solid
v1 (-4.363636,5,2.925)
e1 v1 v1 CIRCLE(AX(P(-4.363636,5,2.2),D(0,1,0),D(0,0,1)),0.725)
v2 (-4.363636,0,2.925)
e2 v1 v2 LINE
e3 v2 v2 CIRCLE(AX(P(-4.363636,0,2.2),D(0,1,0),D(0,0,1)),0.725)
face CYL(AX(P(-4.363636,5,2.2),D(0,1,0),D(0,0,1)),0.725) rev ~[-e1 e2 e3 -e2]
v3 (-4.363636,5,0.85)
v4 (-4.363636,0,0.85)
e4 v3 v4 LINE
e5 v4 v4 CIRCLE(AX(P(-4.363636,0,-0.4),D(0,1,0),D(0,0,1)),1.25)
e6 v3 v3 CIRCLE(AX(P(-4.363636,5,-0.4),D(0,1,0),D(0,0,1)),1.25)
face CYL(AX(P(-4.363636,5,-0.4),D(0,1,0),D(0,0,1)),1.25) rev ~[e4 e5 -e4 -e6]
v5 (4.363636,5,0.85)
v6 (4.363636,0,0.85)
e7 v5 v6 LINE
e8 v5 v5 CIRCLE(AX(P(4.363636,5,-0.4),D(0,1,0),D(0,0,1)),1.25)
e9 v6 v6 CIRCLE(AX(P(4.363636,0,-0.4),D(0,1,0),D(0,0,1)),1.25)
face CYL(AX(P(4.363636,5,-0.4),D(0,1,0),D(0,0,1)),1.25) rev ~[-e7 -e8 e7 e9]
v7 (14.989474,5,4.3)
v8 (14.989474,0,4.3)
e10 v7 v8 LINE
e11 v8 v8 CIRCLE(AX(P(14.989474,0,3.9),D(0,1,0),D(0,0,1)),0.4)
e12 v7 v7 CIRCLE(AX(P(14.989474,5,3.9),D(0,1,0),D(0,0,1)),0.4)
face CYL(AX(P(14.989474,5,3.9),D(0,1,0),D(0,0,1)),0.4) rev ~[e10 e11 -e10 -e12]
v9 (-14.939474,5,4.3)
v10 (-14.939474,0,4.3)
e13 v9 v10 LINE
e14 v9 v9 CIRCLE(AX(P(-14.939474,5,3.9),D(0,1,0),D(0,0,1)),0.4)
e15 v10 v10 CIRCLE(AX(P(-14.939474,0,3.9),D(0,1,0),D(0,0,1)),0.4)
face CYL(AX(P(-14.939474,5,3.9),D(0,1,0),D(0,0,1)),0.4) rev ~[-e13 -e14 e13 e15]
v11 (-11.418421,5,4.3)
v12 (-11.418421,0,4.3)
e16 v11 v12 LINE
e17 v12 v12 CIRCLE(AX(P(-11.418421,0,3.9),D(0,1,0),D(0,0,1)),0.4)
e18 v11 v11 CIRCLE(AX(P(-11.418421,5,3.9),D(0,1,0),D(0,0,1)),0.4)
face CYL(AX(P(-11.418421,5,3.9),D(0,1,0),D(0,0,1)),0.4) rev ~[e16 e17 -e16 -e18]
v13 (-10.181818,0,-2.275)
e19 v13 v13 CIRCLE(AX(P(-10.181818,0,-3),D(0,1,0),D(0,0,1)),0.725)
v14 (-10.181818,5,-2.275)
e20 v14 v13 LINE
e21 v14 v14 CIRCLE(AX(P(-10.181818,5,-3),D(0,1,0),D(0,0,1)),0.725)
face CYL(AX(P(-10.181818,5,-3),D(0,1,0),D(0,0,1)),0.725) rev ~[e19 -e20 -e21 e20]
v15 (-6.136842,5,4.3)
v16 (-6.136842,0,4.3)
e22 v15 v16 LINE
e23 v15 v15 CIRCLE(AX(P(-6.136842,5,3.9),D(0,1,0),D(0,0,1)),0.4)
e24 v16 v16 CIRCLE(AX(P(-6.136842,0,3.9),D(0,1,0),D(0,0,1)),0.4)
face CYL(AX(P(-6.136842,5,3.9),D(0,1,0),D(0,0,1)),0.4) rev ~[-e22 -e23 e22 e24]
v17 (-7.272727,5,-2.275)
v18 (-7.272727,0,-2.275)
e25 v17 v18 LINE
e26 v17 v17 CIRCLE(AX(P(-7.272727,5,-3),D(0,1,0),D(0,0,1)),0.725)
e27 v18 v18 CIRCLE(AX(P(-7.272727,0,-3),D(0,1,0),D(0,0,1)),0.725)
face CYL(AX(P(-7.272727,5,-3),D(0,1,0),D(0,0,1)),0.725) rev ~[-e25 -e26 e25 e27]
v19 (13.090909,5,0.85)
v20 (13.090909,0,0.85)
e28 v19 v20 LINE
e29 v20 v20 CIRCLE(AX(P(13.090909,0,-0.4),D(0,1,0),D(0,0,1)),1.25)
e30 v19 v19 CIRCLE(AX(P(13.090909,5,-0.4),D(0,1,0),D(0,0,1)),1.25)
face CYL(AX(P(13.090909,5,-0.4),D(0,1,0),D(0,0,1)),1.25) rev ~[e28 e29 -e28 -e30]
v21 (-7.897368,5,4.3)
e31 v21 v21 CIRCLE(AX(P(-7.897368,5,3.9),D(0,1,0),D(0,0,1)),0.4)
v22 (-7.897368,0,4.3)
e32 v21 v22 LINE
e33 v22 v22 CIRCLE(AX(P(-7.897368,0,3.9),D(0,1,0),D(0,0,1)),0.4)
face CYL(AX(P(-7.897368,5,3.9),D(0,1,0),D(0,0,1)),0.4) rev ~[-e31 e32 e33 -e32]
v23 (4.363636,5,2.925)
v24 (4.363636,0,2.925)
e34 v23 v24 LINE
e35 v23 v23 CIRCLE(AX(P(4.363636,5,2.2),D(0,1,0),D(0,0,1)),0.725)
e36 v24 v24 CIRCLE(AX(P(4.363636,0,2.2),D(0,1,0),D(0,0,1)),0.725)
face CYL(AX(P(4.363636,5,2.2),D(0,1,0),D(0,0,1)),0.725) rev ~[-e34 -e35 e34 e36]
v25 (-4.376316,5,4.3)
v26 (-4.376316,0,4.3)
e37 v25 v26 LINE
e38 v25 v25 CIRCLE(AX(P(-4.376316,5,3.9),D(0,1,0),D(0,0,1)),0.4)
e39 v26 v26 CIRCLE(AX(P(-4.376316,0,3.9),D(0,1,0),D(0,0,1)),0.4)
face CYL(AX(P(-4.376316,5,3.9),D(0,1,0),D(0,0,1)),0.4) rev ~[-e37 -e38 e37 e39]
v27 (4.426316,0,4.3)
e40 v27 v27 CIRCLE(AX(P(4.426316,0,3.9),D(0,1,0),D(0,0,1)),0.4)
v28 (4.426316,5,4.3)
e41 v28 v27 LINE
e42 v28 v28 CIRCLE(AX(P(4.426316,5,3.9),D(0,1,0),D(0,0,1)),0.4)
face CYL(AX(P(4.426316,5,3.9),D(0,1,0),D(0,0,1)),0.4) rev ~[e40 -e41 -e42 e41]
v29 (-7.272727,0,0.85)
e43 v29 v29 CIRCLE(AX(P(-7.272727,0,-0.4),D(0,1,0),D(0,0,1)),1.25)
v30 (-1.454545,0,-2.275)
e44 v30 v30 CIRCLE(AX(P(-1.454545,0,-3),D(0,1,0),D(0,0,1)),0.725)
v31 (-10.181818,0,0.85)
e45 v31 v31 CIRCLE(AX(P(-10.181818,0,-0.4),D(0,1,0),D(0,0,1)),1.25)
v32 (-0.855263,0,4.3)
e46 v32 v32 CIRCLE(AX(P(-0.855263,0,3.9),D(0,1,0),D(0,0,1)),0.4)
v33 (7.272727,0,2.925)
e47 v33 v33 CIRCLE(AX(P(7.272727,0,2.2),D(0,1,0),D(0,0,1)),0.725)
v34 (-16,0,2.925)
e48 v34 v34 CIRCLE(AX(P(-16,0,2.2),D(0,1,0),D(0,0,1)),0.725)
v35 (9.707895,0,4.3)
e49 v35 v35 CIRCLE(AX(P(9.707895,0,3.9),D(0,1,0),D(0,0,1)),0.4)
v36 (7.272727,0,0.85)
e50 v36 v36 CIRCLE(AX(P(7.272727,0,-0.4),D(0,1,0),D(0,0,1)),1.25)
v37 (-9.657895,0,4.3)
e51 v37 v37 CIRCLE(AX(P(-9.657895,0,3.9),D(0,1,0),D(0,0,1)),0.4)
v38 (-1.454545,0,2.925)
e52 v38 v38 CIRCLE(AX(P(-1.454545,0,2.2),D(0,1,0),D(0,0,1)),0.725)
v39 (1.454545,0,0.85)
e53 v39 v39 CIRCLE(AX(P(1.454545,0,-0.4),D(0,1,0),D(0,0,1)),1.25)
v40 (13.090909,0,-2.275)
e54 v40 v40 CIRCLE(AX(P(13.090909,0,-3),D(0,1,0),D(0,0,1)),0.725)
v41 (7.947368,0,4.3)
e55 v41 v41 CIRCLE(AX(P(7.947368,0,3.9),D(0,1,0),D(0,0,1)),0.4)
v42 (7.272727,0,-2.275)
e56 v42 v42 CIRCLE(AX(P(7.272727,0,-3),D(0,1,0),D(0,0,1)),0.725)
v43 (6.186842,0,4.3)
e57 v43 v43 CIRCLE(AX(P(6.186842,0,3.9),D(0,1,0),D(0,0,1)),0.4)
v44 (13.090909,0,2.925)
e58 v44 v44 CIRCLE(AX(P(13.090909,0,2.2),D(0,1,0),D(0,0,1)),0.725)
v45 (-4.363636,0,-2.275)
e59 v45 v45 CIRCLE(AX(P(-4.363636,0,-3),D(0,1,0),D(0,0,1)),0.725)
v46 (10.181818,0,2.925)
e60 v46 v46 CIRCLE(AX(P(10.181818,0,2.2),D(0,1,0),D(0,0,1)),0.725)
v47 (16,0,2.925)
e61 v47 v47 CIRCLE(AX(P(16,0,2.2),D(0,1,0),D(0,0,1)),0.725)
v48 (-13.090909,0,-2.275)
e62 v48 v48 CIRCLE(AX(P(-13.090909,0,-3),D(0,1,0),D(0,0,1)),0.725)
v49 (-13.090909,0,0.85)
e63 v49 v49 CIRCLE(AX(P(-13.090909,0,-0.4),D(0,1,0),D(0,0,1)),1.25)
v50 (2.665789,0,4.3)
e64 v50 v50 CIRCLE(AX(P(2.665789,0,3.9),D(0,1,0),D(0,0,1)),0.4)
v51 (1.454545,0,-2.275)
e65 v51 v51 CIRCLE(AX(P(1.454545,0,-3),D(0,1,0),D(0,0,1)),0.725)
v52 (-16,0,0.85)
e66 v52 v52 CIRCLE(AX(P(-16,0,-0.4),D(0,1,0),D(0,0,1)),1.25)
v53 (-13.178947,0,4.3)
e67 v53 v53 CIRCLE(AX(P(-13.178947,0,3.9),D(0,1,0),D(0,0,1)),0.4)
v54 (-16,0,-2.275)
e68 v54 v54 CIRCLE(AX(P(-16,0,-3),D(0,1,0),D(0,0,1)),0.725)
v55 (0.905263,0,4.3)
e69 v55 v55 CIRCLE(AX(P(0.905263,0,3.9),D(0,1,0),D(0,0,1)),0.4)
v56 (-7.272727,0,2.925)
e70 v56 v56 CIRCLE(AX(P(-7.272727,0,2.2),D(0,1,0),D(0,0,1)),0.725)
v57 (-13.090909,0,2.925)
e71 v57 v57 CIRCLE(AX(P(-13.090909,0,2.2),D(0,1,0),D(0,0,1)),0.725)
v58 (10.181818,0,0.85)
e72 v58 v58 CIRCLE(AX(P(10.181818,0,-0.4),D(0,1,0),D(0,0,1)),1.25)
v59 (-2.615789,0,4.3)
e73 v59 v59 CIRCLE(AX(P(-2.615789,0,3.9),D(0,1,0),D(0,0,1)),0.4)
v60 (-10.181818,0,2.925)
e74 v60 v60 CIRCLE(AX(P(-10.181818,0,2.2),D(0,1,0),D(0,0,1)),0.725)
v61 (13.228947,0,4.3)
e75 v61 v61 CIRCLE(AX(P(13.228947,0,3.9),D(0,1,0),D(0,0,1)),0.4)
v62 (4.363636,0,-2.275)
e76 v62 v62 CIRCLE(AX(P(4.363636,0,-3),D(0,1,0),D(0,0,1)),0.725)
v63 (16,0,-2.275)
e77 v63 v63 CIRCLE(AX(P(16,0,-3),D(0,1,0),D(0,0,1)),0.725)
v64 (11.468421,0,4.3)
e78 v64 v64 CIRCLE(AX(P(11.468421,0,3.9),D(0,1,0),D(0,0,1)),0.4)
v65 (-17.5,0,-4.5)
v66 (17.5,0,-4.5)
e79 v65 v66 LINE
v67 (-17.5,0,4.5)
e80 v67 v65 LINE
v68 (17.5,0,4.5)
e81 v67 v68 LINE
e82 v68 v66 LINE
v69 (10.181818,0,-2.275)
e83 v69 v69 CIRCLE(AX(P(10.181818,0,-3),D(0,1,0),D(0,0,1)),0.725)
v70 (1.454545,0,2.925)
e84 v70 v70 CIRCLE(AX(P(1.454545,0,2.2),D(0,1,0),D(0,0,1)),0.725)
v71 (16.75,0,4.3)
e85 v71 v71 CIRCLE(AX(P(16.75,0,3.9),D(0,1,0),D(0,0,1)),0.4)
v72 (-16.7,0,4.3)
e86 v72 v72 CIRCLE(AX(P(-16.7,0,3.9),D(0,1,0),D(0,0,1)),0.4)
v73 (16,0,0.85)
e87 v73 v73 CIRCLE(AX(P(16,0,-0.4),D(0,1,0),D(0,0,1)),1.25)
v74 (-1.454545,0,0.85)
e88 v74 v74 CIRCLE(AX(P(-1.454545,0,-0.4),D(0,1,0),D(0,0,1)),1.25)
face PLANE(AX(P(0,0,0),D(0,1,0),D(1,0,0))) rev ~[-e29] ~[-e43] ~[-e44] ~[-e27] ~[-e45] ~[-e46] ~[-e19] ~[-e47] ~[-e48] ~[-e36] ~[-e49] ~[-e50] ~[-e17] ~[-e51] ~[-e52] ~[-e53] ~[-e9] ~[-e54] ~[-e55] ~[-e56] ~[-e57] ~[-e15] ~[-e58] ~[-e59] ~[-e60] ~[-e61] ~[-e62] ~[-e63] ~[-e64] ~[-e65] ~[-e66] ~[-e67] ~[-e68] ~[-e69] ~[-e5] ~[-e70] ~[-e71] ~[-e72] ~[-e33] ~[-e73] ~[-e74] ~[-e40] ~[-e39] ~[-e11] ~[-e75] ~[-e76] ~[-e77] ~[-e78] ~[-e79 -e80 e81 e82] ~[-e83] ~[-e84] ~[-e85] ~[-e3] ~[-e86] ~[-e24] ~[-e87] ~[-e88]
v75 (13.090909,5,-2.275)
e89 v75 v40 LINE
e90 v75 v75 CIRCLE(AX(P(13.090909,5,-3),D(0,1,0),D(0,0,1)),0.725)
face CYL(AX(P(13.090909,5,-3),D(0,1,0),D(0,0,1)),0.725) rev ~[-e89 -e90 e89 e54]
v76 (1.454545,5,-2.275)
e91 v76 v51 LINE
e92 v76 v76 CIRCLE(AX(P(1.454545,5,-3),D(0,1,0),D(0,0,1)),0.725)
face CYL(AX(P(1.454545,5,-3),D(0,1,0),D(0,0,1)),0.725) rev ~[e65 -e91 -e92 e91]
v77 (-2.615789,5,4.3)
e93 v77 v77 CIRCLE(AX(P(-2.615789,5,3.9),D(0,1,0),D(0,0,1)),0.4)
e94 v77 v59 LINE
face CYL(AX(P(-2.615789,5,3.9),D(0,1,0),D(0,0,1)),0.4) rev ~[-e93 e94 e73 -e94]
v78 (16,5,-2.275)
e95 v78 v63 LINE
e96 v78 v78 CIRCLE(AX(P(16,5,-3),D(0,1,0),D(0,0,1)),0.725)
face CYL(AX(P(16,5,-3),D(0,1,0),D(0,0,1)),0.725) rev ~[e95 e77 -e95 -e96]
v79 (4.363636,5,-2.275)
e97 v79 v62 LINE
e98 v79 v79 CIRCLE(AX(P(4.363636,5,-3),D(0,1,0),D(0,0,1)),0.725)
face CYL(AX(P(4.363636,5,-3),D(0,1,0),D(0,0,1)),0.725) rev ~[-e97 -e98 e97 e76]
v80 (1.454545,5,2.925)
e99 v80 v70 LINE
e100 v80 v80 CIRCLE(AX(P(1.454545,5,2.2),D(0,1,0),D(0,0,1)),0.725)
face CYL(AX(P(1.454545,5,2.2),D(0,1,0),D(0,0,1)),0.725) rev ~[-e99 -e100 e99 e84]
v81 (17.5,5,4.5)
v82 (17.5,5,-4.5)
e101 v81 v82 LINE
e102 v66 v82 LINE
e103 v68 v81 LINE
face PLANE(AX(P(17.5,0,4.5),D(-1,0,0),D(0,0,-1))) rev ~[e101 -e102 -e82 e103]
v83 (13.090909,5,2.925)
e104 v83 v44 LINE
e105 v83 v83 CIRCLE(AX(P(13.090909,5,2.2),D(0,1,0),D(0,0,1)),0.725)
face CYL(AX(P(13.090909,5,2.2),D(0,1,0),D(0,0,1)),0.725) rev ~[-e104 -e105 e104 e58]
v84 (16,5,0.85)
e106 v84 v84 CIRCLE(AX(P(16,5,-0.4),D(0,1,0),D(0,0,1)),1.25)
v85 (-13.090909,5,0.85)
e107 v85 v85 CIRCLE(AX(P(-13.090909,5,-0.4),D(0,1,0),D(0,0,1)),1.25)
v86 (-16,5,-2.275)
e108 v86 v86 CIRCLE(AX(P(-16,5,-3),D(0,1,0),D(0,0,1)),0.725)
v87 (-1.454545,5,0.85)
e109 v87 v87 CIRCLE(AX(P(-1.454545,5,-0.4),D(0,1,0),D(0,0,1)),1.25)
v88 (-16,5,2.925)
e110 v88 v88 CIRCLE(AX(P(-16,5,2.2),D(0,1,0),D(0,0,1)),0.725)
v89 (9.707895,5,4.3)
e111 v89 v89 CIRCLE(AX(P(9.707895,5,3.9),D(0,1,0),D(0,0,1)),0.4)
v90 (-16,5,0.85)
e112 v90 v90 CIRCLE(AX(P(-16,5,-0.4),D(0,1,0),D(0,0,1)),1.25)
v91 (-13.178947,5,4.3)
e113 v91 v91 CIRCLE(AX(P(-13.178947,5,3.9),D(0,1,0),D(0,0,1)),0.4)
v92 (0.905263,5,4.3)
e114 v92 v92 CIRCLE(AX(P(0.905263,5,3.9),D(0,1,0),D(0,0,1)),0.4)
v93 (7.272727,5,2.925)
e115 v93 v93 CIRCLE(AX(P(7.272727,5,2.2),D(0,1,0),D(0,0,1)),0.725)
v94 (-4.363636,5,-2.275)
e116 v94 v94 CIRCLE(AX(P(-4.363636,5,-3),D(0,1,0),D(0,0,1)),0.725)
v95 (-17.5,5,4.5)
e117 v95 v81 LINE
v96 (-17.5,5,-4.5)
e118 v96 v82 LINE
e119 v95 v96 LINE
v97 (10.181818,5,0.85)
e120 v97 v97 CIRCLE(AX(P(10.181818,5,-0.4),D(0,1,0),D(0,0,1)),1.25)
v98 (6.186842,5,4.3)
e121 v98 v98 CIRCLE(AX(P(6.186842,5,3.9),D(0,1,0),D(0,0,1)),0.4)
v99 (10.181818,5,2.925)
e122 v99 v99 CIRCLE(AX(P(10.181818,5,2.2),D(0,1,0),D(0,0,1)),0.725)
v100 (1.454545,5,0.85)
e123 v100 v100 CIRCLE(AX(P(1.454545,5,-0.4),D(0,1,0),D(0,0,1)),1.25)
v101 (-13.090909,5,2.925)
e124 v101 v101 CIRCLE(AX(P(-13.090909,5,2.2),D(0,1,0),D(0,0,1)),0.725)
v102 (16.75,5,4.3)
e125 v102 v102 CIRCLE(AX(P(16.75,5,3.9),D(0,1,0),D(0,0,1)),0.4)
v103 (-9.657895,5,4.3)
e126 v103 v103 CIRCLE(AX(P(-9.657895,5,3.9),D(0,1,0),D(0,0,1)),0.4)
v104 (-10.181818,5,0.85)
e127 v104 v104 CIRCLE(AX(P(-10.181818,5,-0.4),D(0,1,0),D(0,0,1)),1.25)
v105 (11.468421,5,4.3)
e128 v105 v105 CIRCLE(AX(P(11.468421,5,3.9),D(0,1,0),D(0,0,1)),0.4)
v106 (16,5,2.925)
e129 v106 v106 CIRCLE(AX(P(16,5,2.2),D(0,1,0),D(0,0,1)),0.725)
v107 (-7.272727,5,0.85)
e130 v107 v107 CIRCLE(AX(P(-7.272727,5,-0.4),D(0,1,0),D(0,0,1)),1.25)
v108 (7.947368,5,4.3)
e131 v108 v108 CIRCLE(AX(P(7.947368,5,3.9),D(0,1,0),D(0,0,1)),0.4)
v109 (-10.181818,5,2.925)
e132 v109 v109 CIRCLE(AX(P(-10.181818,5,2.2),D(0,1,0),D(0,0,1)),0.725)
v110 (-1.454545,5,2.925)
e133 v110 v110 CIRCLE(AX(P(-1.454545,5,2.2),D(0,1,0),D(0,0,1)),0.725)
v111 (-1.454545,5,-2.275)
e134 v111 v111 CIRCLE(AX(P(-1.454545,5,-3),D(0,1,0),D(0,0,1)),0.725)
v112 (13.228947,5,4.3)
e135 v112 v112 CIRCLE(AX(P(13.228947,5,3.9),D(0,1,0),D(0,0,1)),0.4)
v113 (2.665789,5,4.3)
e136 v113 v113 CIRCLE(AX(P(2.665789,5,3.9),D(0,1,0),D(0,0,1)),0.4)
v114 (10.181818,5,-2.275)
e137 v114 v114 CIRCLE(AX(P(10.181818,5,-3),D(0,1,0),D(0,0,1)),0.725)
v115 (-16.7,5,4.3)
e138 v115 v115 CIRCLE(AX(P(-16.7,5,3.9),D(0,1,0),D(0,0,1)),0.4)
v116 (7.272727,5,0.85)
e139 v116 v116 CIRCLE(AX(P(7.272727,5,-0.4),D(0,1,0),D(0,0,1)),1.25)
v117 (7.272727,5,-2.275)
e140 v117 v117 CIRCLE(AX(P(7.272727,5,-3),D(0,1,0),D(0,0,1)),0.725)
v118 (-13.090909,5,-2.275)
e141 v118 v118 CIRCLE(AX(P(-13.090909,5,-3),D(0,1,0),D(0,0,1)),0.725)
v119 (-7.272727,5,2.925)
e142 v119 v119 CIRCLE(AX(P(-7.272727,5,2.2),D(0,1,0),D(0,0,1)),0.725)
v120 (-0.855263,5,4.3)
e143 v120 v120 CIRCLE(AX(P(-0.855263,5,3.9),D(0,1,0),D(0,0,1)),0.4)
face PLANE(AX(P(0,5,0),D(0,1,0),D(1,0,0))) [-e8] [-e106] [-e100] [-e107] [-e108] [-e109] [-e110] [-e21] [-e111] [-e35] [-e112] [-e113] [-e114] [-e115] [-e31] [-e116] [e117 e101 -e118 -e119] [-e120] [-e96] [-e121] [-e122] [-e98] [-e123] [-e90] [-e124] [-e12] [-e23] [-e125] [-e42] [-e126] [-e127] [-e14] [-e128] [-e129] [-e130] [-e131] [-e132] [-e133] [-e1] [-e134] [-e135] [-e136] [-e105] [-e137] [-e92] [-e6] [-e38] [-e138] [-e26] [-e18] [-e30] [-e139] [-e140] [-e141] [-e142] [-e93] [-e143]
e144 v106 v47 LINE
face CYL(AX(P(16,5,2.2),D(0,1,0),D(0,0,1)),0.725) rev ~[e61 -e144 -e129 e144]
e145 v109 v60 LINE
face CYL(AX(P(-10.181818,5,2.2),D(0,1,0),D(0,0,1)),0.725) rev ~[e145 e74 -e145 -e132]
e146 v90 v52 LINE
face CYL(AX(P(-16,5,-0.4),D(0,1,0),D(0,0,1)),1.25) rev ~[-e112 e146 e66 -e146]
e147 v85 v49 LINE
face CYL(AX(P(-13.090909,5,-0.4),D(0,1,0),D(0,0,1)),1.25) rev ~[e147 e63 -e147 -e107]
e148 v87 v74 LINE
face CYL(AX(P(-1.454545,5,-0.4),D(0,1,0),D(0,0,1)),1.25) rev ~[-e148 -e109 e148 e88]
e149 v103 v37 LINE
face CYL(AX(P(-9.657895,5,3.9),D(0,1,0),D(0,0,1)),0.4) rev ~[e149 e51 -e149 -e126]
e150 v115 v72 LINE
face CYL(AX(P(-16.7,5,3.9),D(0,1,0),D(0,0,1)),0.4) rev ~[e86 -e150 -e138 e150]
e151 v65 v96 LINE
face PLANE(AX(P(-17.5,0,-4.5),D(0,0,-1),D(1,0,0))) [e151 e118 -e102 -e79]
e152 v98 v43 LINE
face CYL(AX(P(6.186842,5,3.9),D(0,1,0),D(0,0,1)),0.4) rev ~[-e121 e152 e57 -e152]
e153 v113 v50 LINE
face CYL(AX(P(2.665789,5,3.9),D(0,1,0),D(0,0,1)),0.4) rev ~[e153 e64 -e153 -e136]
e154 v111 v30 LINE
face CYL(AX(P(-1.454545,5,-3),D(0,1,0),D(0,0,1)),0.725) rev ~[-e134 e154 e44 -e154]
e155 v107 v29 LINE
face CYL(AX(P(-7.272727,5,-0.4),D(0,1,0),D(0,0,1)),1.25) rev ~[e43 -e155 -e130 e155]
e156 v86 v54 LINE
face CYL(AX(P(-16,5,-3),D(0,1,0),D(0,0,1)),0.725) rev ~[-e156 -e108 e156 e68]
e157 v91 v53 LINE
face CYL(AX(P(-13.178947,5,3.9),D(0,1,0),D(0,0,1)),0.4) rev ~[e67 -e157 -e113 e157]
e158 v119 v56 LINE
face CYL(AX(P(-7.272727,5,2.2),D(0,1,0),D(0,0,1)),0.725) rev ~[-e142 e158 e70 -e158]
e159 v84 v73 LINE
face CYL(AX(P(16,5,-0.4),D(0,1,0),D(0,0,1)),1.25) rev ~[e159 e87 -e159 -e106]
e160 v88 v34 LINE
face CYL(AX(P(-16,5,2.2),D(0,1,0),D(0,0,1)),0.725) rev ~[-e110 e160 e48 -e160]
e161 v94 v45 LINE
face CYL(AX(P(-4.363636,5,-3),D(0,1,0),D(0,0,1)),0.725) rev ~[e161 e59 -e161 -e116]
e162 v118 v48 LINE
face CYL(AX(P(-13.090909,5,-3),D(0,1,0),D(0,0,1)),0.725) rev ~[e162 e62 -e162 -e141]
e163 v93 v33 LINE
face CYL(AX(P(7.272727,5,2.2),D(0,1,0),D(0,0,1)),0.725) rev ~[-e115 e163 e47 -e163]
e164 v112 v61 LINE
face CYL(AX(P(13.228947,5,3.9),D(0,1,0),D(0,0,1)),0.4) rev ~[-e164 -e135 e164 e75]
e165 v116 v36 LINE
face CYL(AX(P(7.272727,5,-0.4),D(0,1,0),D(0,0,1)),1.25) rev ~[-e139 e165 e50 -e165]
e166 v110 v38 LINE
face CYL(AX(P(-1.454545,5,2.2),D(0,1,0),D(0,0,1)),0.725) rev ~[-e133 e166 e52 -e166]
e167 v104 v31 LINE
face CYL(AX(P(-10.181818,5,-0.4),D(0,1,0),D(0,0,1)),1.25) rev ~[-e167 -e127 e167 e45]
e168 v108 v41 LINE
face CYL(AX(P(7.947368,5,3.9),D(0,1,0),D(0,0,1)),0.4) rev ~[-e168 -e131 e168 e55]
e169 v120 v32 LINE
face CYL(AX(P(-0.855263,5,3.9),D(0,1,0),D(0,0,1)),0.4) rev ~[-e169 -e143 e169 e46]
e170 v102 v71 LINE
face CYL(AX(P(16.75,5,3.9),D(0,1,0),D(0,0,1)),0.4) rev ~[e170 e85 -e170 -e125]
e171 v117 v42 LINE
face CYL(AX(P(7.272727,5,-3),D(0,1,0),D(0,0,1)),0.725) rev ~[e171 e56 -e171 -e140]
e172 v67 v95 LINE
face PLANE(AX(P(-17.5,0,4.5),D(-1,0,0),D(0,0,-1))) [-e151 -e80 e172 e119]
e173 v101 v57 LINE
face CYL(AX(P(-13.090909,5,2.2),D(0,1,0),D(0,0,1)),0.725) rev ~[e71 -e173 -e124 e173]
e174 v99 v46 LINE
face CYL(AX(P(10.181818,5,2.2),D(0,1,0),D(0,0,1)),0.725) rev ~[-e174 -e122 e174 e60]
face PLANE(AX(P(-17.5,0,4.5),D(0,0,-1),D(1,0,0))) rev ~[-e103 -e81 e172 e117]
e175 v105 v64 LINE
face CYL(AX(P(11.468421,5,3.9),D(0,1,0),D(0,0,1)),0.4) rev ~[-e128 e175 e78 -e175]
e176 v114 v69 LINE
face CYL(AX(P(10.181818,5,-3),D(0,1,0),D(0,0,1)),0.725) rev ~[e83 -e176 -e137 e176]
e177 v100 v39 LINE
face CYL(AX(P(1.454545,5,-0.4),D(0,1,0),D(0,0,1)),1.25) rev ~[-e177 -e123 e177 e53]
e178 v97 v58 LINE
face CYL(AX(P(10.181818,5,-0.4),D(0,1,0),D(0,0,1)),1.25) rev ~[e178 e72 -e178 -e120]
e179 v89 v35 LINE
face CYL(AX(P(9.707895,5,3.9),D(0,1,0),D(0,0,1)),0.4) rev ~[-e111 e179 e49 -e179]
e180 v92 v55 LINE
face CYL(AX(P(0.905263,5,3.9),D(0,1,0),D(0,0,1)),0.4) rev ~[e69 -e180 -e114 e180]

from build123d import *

# Parameters (mm, degrees)
SKETCH_1_W          = 35
SKETCH_1_H          = 9
EXTRUDE_1_DEPTH     = 5
SKETCH_2_R          = 0.725
SKETCH_2_R_2        = 1.25
SKETCH_2_R_3        = 0.4
CUT_EXTRUDE_1_DEPTH = 19.748333259


with BuildPart() as part:
    # 草图1 → 凸台-拉伸1 (new body)
    with BuildSketch(Plane(origin=(0, 0, 0), x_dir=(1, 0, 0), z_dir=(0, 1, 0))):
        Rectangle(SKETCH_1_W, SKETCH_1_H)
    extrude(amount=EXTRUDE_1_DEPTH)

    # 草图2 → 切除-拉伸1 (cut, through all)
    with BuildSketch(Plane(origin=(0, 5, 0), x_dir=(1, 0, 0), z_dir=(0, 1, 0))):
        with Locations(Location((-16, 3, 0), (0, 0, 270))):
            Circle(SKETCH_2_R)
        with Locations(Location((-13.090909091, 3, 0), (0, 0, 270))):
            Circle(SKETCH_2_R)
        with Locations(Location((-10.181818182, 3, 0), (0, 0, 270))):
            Circle(SKETCH_2_R)
        with Locations(Location((-7.272727273, 3, 0), (0, 0, 270))):
            Circle(SKETCH_2_R)
        with Locations(Location((-4.363636364, 3, 0), (0, 0, 270))):
            Circle(SKETCH_2_R)
        with Locations(Location((-1.454545455, 3, 0), (0, 0, 270))):
            Circle(SKETCH_2_R)
        with Locations(Location((1.454545455, 3, 0), (0, 0, 270))):
            Circle(SKETCH_2_R)
        with Locations(Location((4.363636364, 3, 0), (0, 0, 270))):
            Circle(SKETCH_2_R)
        with Locations(Location((7.272727273, 3, 0), (0, 0, 270))):
            Circle(SKETCH_2_R)
        with Locations(Location((10.181818182, 3, 0), (0, 0, 270))):
            Circle(SKETCH_2_R)
        with Locations(Location((13.090909091, 3, 0), (0, 0, 270))):
            Circle(SKETCH_2_R)
        with Locations(Location((16, 3, 0), (0, 0, 270))):
            Circle(SKETCH_2_R)
        with Locations(Location((-16, 0.4, 0), (0, 0, 270))):
            Circle(SKETCH_2_R_2)
        with Locations(Location((-13.090909091, 0.4, 0), (0, 0, 270))):
            Circle(SKETCH_2_R_2)
        with Locations(Location((-10.181818182, 0.4, 0), (0, 0, 270))):
            Circle(SKETCH_2_R_2)
        with Locations(Location((-7.272727273, 0.4, 0), (0, 0, 270))):
            Circle(SKETCH_2_R_2)
        with Locations(Location((-4.363636364, 0.4, 0), (0, 0, 270))):
            Circle(SKETCH_2_R_2)
        with Locations(Location((-1.454545455, 0.4, 0), (0, 0, 270))):
            Circle(SKETCH_2_R_2)
        with Locations(Location((1.454545455, 0.4, 0), (0, 0, 270))):
            Circle(SKETCH_2_R_2)
        with Locations(Location((4.363636364, 0.4, 0), (0, 0, 270))):
            Circle(SKETCH_2_R_2)
        with Locations(Location((7.272727273, 0.4, 0), (0, 0, 270))):
            Circle(SKETCH_2_R_2)
        with Locations(Location((10.181818182, 0.4, 0), (0, 0, 270))):
            Circle(SKETCH_2_R_2)
        with Locations(Location((13.090909091, 0.4, 0), (0, 0, 270))):
            Circle(SKETCH_2_R_2)
        with Locations(Location((16, 0.4, 0), (0, 0, 270))):
            Circle(SKETCH_2_R_2)
        with Locations(Location((-16, -2.2, 0), (0, 0, 270))):
            Circle(SKETCH_2_R)
        with Locations(Location((-13.090909091, -2.2, 0), (0, 0, 270))):
            Circle(SKETCH_2_R)
        with Locations(Location((-10.181818182, -2.2, 0), (0, 0, 270))):
            Circle(SKETCH_2_R)
        with Locations(Location((-7.272727273, -2.2, 0), (0, 0, 270))):
            Circle(SKETCH_2_R)
        with Locations(Location((-4.363636364, -2.2, 0), (0, 0, 270))):
            Circle(SKETCH_2_R)
        with Locations(Location((-1.454545455, -2.2, 0), (0, 0, 270))):
            Circle(SKETCH_2_R)
        with Locations(Location((1.454545455, -2.2, 0), (0, 0, 270))):
            Circle(SKETCH_2_R)
        with Locations(Location((4.363636364, -2.2, 0), (0, 0, 270))):
            Circle(SKETCH_2_R)
        with Locations(Location((7.272727273, -2.2, 0), (0, 0, 270))):
            Circle(SKETCH_2_R)
        with Locations(Location((10.181818182, -2.2, 0), (0, 0, 270))):
            Circle(SKETCH_2_R)
        with Locations(Location((13.090909091, -2.2, 0), (0, 0, 270))):
            Circle(SKETCH_2_R)
        with Locations(Location((16, -2.2, 0), (0, 0, 270))):
            Circle(SKETCH_2_R)
        with Locations(Location((-16.7, -3.9, 0), (0, 0, 270))):
            Circle(SKETCH_2_R_3)
        with Locations(Location((-14.939473684, -3.9, 0), (0, 0, 270))):
            Circle(SKETCH_2_R_3)
        with Locations(Location((-13.178947368, -3.9, 0), (0, 0, 270))):
            Circle(SKETCH_2_R_3)
        with Locations(Location((-11.418421053, -3.9, 0), (0, 0, 270))):
            Circle(SKETCH_2_R_3)
        with Locations(Location((-9.657894737, -3.9, 0), (0, 0, 270))):
            Circle(SKETCH_2_R_3)
        with Locations(Location((-7.897368421, -3.9, 0), (0, 0, 270))):
            Circle(SKETCH_2_R_3)
        with Locations(Location((-6.136842105, -3.9, 0), (0, 0, 270))):
            Circle(SKETCH_2_R_3)
        with Locations(Location((-4.376315789, -3.9, 0), (0, 0, 270))):
            Circle(SKETCH_2_R_3)
        with Locations(Location((-2.615789474, -3.9, 0), (0, 0, 270))):
            Circle(SKETCH_2_R_3)
        with Locations(Location((-0.855263158, -3.9, 0), (0, 0, 270))):
            Circle(SKETCH_2_R_3)
        with Locations(Location((0.905263158, -3.9, 0), (0, 0, 270))):
            Circle(SKETCH_2_R_3)
        with Locations(Location((2.665789474, -3.9, 0), (0, 0, 270))):
            Circle(SKETCH_2_R_3)
        with Locations(Location((4.426315789, -3.9, 0), (0, 0, 270))):
            Circle(SKETCH_2_R_3)
        with Locations(Location((6.186842105, -3.9, 0), (0, 0, 270))):
            Circle(SKETCH_2_R_3)
        with Locations(Location((7.947368421, -3.9, 0), (0, 0, 270))):
            Circle(SKETCH_2_R_3)
        with Locations(Location((9.707894737, -3.9, 0), (0, 0, 270))):
            Circle(SKETCH_2_R_3)
        with Locations(Location((11.468421053, -3.9, 0), (0, 0, 270))):
            Circle(SKETCH_2_R_3)
        with Locations(Location((13.228947368, -3.9, 0), (0, 0, 270))):
            Circle(SKETCH_2_R_3)
        with Locations(Location((14.989473684, -3.9, 0), (0, 0, 270))):
            Circle(SKETCH_2_R_3)
        with Locations(Location((16.75, -3.9, 0), (0, 0, 270))):
            Circle(SKETCH_2_R_3)
    extrude(amount=-CUT_EXTRUDE_1_DEPTH, mode=Mode.SUBTRACT)


solid = part.part
